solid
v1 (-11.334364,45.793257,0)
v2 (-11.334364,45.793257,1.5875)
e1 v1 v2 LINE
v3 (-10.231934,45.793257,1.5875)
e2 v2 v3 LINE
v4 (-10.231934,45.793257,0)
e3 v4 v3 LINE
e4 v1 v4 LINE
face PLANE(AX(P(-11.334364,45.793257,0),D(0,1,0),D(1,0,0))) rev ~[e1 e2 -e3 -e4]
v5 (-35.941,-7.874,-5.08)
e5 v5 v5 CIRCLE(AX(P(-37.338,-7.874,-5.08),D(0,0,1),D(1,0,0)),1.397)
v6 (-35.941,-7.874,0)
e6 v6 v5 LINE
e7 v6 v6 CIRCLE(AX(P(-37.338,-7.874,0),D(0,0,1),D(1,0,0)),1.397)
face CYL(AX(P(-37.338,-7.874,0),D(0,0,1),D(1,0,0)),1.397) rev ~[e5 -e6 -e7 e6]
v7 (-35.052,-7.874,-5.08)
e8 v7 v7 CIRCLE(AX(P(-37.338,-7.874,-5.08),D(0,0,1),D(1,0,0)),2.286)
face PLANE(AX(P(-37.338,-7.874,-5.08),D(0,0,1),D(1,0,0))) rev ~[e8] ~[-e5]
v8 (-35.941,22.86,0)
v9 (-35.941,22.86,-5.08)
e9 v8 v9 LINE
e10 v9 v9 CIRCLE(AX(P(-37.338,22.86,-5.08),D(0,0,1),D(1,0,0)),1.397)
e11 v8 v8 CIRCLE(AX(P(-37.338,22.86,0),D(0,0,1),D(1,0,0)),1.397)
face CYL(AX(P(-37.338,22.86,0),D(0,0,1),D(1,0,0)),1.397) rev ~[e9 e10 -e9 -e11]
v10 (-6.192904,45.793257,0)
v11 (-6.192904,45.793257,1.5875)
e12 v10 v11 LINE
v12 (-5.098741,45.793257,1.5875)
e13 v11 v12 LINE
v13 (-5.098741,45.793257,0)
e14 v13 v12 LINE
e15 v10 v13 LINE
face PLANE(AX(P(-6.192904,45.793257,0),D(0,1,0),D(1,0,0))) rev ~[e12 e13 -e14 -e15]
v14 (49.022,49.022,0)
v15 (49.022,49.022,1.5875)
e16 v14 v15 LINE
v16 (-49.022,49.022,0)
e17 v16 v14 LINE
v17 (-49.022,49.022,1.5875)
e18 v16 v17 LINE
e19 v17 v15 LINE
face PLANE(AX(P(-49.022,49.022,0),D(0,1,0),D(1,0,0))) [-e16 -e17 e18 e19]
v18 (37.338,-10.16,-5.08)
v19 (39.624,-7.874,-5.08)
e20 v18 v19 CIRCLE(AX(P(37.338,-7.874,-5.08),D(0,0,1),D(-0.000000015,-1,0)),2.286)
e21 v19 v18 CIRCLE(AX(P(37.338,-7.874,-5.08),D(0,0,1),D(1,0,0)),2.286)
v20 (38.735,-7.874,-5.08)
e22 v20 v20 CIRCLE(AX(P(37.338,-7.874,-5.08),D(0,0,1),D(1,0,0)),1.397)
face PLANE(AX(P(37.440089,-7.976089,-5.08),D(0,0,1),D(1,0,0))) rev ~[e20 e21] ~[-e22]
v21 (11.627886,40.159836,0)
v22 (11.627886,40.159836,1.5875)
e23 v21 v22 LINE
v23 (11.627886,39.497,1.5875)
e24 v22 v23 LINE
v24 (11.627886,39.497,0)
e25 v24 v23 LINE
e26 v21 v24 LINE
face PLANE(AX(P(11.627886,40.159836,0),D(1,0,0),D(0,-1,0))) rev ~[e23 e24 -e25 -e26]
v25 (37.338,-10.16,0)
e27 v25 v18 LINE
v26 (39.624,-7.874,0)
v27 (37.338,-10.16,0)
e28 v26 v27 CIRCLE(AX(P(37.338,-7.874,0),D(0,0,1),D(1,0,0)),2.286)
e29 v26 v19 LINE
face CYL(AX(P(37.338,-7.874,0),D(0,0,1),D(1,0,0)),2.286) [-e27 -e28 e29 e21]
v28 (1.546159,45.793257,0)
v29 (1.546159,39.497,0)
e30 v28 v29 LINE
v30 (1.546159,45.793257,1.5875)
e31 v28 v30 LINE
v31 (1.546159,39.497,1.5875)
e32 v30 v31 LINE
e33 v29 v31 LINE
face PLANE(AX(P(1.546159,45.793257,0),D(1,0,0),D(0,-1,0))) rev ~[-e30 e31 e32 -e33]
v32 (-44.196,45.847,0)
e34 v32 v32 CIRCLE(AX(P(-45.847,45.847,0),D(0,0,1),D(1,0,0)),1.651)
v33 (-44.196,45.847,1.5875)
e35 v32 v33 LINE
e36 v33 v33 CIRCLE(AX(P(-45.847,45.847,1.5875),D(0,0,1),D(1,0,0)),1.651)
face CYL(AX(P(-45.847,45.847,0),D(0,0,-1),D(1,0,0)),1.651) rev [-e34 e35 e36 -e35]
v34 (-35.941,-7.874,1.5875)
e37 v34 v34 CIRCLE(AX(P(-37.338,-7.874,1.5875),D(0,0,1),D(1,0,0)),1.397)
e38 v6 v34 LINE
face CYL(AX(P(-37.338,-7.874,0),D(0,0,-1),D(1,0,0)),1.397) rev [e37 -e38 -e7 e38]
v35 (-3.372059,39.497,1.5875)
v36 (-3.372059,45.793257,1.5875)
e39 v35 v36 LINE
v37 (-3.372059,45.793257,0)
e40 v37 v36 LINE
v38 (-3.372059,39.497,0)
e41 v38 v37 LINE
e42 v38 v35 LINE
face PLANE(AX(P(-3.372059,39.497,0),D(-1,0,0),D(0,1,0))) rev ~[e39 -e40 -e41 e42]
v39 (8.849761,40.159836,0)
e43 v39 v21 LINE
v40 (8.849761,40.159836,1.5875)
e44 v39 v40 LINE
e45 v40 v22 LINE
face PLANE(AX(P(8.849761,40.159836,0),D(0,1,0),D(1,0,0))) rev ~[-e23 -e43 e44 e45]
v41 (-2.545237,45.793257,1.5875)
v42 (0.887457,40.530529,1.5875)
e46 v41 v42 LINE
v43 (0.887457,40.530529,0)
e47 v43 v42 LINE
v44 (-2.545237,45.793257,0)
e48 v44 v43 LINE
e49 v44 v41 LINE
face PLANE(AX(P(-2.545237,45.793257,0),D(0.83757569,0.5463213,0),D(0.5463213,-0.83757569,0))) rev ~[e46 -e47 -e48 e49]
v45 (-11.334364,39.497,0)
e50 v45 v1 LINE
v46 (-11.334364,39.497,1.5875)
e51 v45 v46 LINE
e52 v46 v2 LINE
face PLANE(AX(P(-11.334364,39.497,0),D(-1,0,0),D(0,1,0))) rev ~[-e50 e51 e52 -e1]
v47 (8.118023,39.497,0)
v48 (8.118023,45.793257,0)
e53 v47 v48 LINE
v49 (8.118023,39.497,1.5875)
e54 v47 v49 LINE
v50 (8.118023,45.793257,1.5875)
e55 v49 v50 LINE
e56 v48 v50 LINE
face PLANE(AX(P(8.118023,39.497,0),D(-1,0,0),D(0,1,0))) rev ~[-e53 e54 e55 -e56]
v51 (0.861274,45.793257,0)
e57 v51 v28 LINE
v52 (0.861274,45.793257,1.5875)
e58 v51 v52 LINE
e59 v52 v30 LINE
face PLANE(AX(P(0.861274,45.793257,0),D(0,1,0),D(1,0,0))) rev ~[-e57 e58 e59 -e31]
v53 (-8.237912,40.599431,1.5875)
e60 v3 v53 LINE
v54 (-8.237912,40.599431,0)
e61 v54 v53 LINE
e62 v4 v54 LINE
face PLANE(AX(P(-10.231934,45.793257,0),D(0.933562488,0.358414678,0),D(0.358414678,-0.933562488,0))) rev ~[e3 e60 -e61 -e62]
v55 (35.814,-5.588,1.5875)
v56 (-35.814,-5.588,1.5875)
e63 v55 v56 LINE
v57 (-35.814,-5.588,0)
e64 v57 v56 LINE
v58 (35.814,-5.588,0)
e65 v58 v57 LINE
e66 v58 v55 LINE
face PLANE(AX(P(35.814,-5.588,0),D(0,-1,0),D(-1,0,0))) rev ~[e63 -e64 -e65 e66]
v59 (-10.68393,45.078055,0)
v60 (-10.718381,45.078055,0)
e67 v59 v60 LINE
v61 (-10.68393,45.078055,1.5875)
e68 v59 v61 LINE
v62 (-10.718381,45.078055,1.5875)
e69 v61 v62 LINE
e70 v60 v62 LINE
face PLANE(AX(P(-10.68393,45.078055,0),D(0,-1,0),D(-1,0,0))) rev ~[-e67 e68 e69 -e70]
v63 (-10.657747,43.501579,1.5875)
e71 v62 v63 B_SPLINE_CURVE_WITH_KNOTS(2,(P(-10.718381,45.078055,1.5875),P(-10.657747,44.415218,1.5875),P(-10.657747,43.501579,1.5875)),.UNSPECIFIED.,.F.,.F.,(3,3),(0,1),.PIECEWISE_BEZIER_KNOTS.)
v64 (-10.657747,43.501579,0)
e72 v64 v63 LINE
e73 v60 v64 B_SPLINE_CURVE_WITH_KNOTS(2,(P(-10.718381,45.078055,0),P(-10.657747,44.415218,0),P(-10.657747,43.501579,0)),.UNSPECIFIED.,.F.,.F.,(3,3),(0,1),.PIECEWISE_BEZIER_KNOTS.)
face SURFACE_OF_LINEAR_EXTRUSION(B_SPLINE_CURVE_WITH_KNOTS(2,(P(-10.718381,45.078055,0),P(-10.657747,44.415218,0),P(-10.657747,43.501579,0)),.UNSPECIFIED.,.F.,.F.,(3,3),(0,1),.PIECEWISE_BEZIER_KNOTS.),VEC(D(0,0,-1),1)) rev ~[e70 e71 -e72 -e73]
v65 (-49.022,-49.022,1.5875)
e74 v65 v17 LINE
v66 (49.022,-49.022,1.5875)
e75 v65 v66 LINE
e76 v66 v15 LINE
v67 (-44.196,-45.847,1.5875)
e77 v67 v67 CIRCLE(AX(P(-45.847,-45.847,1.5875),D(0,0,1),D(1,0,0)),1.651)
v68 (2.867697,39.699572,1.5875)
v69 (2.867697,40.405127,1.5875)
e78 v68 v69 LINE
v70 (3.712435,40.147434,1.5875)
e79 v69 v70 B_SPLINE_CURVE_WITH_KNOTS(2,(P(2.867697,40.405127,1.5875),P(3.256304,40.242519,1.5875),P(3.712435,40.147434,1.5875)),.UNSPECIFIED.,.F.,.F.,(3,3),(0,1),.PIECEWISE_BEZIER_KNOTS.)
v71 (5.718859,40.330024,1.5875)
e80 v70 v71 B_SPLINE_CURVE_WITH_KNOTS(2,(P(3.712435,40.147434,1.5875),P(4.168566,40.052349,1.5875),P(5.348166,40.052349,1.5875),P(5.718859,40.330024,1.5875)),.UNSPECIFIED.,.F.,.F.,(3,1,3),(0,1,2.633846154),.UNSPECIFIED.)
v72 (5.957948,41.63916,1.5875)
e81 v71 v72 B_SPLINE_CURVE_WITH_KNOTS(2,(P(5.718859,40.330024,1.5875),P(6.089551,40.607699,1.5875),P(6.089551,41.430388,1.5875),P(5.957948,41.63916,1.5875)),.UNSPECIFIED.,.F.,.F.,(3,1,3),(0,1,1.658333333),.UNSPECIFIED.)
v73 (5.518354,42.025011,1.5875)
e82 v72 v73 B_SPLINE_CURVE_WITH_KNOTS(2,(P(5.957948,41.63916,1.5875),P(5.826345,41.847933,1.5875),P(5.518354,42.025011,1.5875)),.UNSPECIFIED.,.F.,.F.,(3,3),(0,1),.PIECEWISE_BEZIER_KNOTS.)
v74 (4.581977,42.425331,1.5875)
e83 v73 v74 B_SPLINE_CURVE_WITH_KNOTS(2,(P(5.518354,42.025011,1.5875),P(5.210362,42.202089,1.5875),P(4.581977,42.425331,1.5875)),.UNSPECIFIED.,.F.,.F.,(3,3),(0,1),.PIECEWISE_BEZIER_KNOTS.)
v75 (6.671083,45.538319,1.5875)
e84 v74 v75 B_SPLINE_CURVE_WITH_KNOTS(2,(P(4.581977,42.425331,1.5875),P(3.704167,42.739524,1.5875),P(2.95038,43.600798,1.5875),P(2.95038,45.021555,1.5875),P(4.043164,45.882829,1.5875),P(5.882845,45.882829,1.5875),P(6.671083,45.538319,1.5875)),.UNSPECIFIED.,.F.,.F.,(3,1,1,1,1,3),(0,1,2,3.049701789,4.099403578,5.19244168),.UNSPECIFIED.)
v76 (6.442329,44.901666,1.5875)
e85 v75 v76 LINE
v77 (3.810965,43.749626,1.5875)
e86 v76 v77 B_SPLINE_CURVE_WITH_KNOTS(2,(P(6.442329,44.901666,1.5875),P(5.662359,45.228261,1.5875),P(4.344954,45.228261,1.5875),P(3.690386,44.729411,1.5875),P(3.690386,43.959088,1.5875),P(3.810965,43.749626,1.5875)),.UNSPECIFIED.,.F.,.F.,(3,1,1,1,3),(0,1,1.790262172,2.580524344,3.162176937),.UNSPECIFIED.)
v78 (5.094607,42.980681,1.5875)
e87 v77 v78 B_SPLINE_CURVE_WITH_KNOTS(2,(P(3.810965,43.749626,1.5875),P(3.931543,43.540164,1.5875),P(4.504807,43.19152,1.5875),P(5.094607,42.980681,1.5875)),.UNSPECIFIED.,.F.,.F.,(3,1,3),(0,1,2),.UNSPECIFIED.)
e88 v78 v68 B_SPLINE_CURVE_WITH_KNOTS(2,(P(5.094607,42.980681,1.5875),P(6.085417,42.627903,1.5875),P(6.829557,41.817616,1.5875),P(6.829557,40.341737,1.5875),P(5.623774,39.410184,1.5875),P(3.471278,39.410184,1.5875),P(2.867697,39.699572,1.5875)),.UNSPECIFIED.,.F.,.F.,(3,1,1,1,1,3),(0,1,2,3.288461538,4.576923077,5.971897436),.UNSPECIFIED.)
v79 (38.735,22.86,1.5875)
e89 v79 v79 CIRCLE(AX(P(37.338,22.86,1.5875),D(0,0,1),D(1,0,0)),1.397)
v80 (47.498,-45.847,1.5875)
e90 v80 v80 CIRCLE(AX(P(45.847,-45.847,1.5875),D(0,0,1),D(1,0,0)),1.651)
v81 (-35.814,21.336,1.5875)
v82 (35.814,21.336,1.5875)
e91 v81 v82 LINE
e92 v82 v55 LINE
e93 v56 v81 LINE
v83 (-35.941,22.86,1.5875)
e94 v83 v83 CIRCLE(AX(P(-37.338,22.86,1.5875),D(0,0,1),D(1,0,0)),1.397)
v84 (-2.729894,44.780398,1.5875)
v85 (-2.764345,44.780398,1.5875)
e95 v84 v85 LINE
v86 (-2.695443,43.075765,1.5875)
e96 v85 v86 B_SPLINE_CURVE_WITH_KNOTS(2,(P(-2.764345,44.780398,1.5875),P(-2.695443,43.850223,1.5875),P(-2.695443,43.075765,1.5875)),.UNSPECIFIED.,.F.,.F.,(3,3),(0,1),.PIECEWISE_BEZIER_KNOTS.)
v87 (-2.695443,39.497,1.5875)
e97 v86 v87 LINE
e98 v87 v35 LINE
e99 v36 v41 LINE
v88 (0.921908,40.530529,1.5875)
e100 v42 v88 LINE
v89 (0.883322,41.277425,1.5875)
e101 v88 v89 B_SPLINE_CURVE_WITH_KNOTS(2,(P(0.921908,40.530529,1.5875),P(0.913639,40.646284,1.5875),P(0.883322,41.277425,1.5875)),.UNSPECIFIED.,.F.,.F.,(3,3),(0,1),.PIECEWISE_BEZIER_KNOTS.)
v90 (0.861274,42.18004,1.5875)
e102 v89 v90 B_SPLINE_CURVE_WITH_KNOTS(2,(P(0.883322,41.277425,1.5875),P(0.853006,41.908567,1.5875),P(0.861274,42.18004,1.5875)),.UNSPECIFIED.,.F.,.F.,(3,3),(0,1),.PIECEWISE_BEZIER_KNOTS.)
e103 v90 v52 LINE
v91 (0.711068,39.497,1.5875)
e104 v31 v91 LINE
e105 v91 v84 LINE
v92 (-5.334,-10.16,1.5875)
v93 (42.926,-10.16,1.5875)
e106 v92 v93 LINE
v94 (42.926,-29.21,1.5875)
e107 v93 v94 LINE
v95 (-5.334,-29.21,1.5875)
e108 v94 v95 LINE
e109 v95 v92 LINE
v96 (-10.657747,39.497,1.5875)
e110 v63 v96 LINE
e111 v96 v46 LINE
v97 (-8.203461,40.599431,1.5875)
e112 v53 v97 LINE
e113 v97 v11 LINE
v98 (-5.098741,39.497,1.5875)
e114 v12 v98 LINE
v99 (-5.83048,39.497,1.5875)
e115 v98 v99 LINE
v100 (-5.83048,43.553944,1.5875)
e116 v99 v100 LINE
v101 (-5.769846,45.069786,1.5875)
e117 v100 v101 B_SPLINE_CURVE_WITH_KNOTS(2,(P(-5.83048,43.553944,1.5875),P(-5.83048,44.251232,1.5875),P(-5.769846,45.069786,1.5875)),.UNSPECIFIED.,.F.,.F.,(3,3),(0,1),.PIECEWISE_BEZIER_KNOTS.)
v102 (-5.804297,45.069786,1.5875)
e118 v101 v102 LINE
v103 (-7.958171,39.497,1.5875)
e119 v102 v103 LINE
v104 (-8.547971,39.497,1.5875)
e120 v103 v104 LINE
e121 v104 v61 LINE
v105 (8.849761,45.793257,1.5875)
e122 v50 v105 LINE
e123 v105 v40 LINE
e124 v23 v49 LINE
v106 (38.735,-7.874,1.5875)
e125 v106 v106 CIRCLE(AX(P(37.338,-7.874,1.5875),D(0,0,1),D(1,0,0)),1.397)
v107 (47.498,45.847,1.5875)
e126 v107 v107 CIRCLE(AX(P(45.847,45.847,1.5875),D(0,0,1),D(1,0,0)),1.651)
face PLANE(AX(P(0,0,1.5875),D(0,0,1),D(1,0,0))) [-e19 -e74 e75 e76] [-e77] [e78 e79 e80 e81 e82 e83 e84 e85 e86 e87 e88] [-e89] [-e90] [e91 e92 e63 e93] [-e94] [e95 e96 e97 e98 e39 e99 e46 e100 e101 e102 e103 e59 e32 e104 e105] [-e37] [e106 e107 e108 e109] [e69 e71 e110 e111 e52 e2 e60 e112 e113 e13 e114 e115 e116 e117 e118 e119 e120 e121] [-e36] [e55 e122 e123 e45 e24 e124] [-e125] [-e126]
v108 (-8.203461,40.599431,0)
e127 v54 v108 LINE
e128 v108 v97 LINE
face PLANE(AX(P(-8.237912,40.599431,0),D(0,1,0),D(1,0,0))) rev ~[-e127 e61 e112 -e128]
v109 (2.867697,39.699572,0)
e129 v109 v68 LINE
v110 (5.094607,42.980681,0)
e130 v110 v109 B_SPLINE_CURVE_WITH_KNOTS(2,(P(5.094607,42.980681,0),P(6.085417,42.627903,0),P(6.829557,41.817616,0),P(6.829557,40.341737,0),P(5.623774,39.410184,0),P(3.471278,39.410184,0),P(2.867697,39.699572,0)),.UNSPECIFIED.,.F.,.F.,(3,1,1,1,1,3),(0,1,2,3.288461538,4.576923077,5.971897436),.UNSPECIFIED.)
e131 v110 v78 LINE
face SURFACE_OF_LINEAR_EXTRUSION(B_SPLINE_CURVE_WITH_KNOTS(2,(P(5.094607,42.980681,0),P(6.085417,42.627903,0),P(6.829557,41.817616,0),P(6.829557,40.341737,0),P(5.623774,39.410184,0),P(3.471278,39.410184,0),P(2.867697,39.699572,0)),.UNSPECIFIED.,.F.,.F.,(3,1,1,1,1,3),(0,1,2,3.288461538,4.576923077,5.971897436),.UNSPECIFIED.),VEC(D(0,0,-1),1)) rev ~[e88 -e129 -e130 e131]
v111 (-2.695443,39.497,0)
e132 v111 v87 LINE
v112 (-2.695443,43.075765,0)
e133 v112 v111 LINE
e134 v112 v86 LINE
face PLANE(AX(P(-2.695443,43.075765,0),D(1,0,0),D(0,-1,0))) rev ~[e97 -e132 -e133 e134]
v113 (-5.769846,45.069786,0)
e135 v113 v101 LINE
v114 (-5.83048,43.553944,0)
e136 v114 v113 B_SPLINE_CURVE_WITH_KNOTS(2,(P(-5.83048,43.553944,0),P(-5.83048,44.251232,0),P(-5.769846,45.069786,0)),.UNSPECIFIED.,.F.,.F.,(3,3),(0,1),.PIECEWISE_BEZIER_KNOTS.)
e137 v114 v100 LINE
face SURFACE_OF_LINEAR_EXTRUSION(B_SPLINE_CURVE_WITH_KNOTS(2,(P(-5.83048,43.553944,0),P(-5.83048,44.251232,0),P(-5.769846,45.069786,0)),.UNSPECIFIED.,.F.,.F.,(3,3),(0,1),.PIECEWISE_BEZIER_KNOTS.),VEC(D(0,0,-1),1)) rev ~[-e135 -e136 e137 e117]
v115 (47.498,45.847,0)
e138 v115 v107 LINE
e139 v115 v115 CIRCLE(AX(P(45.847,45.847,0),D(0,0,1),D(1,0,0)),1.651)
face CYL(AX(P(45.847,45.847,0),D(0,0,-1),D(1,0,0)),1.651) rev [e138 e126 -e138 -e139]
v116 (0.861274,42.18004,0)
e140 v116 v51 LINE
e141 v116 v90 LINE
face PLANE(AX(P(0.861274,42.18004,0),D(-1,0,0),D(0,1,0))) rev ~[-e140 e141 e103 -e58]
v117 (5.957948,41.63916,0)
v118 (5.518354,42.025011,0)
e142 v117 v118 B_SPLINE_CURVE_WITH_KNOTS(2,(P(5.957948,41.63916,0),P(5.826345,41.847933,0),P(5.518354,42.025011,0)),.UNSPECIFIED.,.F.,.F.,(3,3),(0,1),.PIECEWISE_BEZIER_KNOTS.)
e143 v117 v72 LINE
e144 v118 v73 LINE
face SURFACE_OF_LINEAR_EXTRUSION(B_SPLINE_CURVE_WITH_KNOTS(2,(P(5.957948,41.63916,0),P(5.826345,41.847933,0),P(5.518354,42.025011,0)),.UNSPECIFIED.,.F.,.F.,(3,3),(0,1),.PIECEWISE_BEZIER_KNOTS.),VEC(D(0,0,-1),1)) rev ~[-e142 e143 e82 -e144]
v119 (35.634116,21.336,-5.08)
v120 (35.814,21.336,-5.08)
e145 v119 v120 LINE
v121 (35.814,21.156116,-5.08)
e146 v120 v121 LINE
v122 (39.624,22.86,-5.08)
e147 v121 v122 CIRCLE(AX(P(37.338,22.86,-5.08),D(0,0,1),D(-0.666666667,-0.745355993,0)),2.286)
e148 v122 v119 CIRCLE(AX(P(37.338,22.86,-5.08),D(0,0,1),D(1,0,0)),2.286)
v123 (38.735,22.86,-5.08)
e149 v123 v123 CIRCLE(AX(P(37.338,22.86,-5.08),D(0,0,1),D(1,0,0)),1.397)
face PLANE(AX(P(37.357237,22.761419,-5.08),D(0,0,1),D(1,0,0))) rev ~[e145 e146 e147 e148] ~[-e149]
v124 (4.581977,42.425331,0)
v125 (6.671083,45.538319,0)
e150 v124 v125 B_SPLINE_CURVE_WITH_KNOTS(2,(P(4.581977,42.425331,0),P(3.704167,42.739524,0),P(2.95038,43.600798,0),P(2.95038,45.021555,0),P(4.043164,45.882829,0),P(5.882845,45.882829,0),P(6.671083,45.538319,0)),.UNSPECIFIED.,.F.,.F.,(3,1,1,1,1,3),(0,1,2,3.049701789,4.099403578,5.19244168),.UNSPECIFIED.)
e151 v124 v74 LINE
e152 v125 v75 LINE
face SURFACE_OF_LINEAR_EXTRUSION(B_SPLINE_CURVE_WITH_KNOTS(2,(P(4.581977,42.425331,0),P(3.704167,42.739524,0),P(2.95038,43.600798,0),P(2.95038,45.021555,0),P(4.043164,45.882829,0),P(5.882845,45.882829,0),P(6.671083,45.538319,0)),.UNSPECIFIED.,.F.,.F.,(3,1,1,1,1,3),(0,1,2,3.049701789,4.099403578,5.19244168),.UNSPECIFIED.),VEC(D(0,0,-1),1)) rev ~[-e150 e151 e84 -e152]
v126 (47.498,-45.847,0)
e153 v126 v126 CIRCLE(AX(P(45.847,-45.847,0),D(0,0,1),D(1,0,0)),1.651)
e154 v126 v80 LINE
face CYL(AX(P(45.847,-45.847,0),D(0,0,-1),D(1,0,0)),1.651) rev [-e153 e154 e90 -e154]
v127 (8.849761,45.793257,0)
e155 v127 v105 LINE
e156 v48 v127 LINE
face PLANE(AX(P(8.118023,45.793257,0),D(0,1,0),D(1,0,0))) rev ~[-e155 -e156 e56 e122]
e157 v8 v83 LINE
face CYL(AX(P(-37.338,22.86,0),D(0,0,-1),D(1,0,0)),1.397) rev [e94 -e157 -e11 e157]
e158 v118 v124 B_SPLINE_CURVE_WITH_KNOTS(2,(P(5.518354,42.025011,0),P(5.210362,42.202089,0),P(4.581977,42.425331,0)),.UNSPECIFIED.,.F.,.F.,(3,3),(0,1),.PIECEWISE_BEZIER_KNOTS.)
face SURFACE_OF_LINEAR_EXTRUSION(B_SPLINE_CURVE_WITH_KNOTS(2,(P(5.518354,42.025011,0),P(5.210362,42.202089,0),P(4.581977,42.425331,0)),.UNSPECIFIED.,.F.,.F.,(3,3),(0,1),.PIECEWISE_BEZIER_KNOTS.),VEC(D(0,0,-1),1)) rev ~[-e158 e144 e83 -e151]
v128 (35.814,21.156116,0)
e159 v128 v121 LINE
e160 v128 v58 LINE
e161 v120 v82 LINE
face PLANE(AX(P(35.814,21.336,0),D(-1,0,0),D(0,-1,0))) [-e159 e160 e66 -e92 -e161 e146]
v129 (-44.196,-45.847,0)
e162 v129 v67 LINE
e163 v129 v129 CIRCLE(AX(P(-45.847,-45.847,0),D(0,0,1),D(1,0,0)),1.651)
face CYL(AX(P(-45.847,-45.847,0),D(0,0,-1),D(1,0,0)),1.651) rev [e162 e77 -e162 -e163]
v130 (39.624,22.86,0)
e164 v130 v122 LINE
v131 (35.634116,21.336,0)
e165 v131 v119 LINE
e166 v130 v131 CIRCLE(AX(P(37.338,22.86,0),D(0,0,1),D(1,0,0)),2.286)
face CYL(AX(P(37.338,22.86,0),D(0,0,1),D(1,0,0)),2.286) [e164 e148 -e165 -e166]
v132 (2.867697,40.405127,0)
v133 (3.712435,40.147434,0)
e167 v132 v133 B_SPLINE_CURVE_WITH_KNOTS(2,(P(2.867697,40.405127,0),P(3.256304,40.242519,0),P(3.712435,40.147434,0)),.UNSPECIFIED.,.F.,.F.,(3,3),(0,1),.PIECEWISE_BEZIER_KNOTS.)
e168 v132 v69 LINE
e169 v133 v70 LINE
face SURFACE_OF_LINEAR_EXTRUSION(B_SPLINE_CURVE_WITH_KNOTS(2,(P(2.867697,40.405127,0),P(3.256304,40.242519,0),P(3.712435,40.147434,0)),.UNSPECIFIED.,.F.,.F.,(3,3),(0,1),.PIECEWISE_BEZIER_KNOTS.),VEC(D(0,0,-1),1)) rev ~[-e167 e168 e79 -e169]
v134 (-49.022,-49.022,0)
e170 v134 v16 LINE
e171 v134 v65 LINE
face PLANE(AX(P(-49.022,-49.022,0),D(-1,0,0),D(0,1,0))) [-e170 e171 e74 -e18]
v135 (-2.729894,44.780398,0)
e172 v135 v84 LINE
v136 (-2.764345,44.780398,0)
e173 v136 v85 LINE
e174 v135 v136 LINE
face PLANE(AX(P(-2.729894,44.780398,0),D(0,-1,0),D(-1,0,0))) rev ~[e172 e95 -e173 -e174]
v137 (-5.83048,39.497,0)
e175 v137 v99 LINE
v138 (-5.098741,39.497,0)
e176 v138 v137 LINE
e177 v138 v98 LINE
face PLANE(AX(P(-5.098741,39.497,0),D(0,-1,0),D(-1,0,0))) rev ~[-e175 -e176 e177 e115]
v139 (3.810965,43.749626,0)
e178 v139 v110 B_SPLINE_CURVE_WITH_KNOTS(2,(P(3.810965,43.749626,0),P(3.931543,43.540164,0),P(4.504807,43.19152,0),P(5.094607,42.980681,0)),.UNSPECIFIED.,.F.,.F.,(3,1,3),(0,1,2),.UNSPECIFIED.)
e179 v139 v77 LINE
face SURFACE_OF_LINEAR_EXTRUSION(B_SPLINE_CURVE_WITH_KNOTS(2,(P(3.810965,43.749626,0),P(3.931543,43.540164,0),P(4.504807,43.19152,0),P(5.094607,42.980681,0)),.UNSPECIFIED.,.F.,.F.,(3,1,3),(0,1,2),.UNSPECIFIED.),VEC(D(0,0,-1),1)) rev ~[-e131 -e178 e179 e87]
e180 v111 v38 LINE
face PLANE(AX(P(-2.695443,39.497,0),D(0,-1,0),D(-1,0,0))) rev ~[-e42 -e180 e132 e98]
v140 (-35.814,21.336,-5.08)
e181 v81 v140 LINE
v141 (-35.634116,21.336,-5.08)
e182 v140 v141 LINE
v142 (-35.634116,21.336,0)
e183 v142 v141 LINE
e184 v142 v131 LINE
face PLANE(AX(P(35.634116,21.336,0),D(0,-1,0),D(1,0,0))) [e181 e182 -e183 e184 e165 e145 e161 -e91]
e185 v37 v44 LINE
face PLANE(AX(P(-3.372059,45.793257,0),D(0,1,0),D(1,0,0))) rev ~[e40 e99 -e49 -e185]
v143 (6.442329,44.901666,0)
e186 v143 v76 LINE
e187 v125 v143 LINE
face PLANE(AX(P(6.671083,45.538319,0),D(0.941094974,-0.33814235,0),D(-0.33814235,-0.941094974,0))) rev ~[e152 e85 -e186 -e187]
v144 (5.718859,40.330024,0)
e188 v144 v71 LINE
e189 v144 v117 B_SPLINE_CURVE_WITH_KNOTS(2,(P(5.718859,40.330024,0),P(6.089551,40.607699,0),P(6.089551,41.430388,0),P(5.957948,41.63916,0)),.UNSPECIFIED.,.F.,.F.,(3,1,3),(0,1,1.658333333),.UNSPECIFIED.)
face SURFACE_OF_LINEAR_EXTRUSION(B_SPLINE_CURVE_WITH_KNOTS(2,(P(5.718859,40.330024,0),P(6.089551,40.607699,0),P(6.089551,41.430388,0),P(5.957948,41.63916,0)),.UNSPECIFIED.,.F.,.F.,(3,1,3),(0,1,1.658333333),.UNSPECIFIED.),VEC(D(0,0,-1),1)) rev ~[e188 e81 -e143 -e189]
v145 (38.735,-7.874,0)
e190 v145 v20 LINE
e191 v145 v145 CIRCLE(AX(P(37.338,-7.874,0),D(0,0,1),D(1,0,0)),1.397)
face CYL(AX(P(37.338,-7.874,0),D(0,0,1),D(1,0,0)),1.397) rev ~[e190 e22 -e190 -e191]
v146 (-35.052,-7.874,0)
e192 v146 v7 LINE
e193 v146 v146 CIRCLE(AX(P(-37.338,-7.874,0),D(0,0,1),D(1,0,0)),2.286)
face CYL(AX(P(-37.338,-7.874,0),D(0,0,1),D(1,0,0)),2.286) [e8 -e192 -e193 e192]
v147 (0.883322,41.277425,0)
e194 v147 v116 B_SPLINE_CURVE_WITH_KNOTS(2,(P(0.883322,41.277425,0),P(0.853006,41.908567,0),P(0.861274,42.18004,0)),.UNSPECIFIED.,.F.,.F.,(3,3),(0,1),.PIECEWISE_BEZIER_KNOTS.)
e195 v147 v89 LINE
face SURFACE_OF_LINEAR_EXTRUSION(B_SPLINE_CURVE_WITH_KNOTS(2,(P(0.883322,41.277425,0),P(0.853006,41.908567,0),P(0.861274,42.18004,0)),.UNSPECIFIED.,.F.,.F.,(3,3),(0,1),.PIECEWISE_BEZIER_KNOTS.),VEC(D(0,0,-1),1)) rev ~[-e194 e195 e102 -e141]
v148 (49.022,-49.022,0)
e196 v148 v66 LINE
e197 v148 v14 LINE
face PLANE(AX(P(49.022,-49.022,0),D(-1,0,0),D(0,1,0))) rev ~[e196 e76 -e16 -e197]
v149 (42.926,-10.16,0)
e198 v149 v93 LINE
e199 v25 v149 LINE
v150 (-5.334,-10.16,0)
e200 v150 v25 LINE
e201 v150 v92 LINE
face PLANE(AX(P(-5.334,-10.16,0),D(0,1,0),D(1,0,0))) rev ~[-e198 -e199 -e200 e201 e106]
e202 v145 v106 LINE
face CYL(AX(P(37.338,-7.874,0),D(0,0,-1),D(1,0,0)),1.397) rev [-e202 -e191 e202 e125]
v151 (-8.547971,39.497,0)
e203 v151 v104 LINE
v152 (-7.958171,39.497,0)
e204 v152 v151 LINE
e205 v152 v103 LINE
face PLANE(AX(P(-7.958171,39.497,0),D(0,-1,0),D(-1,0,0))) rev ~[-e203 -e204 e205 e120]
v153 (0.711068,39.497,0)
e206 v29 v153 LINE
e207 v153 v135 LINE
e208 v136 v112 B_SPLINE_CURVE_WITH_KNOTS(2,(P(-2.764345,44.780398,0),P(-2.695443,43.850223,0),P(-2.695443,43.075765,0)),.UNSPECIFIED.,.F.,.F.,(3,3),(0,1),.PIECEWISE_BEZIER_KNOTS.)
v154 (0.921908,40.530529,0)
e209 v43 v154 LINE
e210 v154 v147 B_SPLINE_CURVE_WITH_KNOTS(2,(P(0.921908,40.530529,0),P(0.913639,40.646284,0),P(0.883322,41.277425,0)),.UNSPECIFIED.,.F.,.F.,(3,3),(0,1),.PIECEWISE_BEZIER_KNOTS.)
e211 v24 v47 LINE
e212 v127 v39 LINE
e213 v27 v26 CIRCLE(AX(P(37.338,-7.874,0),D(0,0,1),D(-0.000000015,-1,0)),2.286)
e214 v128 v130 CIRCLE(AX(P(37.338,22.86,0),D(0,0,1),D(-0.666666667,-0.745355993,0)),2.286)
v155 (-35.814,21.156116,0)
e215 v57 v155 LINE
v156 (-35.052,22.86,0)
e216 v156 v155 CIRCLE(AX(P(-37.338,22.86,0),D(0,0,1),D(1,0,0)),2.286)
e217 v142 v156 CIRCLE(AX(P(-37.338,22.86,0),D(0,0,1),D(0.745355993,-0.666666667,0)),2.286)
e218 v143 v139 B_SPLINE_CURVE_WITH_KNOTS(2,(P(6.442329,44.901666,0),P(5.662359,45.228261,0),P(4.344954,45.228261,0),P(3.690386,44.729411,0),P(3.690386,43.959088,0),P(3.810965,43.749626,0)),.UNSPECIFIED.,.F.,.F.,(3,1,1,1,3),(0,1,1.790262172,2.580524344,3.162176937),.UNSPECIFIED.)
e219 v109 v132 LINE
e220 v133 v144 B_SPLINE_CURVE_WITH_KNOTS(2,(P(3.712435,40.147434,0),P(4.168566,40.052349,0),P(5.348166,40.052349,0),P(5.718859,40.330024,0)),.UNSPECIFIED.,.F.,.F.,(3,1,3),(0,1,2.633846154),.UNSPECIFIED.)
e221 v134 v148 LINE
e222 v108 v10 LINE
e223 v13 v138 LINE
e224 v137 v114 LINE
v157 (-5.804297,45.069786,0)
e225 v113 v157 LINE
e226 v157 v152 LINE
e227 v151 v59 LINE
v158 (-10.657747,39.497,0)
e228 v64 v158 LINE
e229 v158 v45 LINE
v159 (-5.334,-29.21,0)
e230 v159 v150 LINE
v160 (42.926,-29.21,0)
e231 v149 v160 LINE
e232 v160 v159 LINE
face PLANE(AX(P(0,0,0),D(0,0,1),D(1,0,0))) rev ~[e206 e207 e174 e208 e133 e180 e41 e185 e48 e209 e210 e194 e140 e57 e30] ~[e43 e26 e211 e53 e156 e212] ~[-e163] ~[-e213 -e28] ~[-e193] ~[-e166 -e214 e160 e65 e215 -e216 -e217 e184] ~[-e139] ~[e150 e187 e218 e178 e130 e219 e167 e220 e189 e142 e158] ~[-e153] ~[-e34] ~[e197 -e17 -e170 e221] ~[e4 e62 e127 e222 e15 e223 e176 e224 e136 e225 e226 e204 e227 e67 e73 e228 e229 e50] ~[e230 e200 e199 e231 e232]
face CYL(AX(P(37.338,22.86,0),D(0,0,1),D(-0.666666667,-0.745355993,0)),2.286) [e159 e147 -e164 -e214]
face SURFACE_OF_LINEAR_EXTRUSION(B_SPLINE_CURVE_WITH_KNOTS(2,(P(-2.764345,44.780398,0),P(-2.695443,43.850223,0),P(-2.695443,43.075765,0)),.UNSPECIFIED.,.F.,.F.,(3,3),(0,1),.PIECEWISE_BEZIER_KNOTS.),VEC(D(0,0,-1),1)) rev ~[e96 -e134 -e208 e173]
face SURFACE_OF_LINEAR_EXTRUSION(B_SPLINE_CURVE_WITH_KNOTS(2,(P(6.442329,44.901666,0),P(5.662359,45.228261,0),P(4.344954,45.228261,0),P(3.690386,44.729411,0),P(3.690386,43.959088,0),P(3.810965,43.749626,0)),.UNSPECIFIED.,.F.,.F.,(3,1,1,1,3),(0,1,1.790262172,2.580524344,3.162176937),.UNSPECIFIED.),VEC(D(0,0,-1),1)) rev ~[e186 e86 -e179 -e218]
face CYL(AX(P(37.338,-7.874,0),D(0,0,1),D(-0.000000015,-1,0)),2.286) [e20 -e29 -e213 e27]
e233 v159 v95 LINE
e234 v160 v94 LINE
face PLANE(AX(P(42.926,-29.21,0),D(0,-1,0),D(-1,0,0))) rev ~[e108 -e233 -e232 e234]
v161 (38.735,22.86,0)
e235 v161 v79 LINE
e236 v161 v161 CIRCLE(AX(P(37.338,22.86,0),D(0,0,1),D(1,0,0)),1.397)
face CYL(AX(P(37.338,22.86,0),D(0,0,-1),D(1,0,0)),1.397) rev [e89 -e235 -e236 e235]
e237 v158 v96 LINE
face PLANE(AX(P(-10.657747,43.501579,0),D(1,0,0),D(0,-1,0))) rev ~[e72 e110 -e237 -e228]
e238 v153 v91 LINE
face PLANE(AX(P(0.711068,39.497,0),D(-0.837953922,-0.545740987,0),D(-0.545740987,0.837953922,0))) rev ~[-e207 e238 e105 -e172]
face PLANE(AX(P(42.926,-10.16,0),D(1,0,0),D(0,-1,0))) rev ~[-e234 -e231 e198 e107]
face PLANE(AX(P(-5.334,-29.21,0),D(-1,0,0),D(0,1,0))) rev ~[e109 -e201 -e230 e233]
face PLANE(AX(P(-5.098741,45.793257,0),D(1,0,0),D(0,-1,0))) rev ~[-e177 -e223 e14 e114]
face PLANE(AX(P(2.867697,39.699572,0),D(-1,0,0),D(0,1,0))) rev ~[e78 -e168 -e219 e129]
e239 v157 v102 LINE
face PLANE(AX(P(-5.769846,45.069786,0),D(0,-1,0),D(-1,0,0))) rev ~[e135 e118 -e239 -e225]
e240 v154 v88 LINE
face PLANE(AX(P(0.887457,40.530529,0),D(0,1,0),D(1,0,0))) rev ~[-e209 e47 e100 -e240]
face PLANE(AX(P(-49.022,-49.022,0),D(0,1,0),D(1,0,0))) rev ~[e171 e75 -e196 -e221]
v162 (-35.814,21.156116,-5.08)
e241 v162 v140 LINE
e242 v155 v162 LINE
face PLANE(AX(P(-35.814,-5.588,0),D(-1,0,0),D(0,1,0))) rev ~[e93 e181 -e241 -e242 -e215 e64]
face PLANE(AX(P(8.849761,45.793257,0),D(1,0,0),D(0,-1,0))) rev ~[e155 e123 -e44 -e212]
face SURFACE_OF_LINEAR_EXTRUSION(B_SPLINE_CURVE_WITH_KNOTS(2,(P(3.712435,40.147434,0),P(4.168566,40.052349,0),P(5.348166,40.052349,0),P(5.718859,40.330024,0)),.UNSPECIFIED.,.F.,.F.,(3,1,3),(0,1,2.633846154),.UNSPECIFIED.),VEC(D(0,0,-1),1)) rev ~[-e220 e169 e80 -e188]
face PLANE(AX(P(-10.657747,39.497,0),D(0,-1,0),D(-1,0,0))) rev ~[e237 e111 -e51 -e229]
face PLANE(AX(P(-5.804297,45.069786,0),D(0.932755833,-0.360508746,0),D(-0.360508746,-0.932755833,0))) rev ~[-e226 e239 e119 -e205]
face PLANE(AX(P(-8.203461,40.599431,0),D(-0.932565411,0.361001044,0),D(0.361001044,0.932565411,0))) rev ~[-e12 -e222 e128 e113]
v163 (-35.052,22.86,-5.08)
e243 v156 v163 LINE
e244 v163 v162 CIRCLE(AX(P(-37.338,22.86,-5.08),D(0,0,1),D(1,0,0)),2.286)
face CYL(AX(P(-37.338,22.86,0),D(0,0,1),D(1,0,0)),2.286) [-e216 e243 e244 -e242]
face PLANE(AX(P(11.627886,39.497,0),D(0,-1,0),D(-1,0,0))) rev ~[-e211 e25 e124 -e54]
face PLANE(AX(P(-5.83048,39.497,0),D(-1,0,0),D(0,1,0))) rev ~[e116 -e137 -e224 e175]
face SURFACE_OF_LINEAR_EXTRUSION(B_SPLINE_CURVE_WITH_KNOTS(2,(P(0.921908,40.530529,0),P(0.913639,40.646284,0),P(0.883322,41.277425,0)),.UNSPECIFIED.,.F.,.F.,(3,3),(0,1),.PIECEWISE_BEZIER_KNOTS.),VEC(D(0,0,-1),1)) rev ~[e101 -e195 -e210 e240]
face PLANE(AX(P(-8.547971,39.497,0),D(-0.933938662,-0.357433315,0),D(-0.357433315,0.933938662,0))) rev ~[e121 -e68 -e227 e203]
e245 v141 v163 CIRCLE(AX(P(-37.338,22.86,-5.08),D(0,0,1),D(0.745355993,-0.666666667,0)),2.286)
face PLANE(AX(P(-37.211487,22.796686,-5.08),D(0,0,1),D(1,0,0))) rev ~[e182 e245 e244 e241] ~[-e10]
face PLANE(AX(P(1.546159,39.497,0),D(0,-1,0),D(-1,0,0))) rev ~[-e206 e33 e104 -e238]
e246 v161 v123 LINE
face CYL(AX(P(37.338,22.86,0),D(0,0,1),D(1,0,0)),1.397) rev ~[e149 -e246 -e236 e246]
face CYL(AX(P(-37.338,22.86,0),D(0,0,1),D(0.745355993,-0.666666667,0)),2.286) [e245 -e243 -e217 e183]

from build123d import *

# Parameters (mm, degrees)
F0_W     = 98.044
F0_H     = 98.044
F0_R     = 1.651
F0_R_2   = 2.286
F0_R_3   = 1.397
F1_DEPTH = 1.5875
F2_DEPTH = 5.08


with BuildPart() as f1:
    # F0 (on Top) → F1 (new body)
    with BuildSketch(Plane.XY):
        Rectangle(F0_W, F0_H)
        with Locations((-45.847, -45.847)):
            Circle(F0_R, mode=Mode.SUBTRACT)
        with Locations((-37.338, -7.874)):
            Circle(F0_R_2, mode=Mode.SUBTRACT)
        with Locations((45.847, -45.847)):
            Circle(F0_R, mode=Mode.SUBTRACT)
        Polygon((-5.334, -29.21), (-5.334, -10.16), (37.3379999666, -10.16), (42.926, -10.16), (42.926, -29.21), align=None, mode=Mode.SUBTRACT)
        with BuildLine():
            ThreePointArc((39.624, -7.874), (38.95444609, -9.4904461136), (37.3379999666, -10.16))
            ThreePointArc((37.3379999666, -10.16), (35.72155391, -6.2575538864), (39.624, -7.874))
        make_face(mode=Mode.SUBTRACT)
        with Locations((-45.847, 45.847)):
            Circle(F0_R, mode=Mode.SUBTRACT)
        with BuildLine():
            Line((-7.9581705729, 39.497), (-8.5479709201, 39.497))
            Line((-8.5479709201, 39.497), (-10.6839301215, 45.0780546875))
            Line((-10.6839301215, 45.0780546875), (-10.7183810764, 45.0780546875))
            add(Edge.make_bspline(
                [(-10.7183810764, 45.0780546875), (-10.6577473958, 44.415218316), (-10.6577473958, 43.5015789931)],
                knots=[0, 0, 0, 1, 1, 1], degree=2))
            Line((-10.6577473958, 43.5015789931), (-10.6577473958, 39.497))
            Line((-10.6577473958, 39.497), (-11.3343641493, 39.497))
            Line((-11.3343641493, 39.497), (-11.3343641493, 45.7932565104))
            Line((-11.3343641493, 45.7932565104), (-10.2319335938, 45.7932565104))
            Line((-10.2319335938, 45.7932565104), (-8.2379123264, 40.5994305556))
            Line((-8.2379123264, 40.5994305556), (-8.2034613715, 40.5994305556))
            Line((-8.2034613715, 40.5994305556), (-6.1929036458, 45.7932565104))
            Line((-6.1929036458, 45.7932565104), (-5.0987413194, 45.7932565104))
            Line((-5.0987413194, 45.7932565104), (-5.0987413194, 39.497))
            Line((-5.0987413194, 39.497), (-5.8304796007, 39.497))
            Line((-5.8304796007, 39.497), (-5.8304796007, 43.5539444444))
            add(Edge.make_bspline(
                [(-5.8304796007, 43.5539444444), (-5.8304796007, 44.2512317708), (-5.7698459201, 45.0697864583)],
                knots=[0, 0, 0, 1, 1, 1], degree=2))
            Line((-5.7698459201, 45.0697864583), (-5.804296875, 45.0697864583))
            Line((-5.804296875, 45.0697864583), (-7.9581705729, 39.497))
        make_face(mode=Mode.SUBTRACT)
        with BuildLine():
            Line((1.5461588542, 45.7932565104), (1.5461588542, 39.497))
            Line((1.5461588542, 39.497), (0.7110677083, 39.497))
            Line((0.7110677083, 39.497), (-2.7298936632, 44.7803984375))
            Line((-2.7298936632, 44.7803984375), (-2.7643446181, 44.7803984375))
            add(Edge.make_bspline(
                [(-2.7643446181, 44.7803984375), (-2.6954427083, 43.8502226563), (-2.6954427083, 43.075765191)],
                knots=[0, 0, 0, 1, 1, 1], degree=2))
            Line((-2.6954427083, 43.075765191), (-2.6954427083, 39.497))
            Line((-2.6954427083, 39.497), (-3.3720594618, 39.497))
            Line((-3.3720594618, 39.497), (-3.3720594618, 45.7932565104))
            Line((-3.3720594618, 45.7932565104), (-2.5452365451, 45.7932565104))
            Line((-2.5452365451, 45.7932565104), (0.8874565972, 40.5305286458))
            Line((0.8874565972, 40.5305286458), (0.9219075521, 40.5305286458))
            add(Edge.make_bspline(
                [(0.9219075521, 40.5305286458), (0.9136393229, 40.6462838542), (0.8833224826, 41.2774253472)],
                knots=[0, 0, 0, 1, 1, 1], degree=2))
            add(Edge.make_bspline(
                [(0.8833224826, 41.2774253472), (0.8530056424, 41.9085668403), (0.8612738715, 42.1800403646)],
                knots=[0, 0, 0, 1, 1, 1], degree=2))
            Line((0.8612738715, 42.1800403646), (0.8612738715, 45.7932565104))
            Line((0.8612738715, 45.7932565104), (1.5461588542, 45.7932565104))
        make_face(mode=Mode.SUBTRACT)
        with BuildLine():
            ThreePointArc((-35.814, 21.1561162011), (-39.4248229441, 23.793255592), (-35.052, 22.86))
            ThreePointArc((-35.052, 22.86), (-35.2024819874, 22.0443047028), (-35.6341162011, 21.336))
            Line((-35.6341162011, 21.336), (35.6341162011, 21.336))
            ThreePointArc((35.6341162011, 21.336), (36.5223047028, 24.9955180126), (39.624, 22.86))
            ThreePointArc((39.624, 22.86), (38.271255592, 20.7731770559), (35.814, 21.1561162011))
            Line((35.814, 21.1561162011), (35.814, -5.588))
            Line((35.814, -5.588), (-35.814, -5.588))
            Line((-35.814, -5.588), (-35.814, 21.1561162011))
        make_face(mode=Mode.SUBTRACT)
        with BuildLine():
            add(Edge.make_bspline(
                [(6.4574869792, 42.2227595486), (6.8295572917, 41.8176163194), (6.8295572917, 41.1726944444)],
                knots=[0, 0, 0, 1, 1, 1], degree=2))
            add(Edge.make_bspline(
                [(6.8295572917, 41.1726944444), (6.8295572917, 40.3417374132), (6.2266655816, 39.8759605035)],
                knots=[0, 0, 0, 1, 1, 1], degree=2))
            add(Edge.make_bspline(
                [(6.2266655816, 39.8759605035), (5.6237738715, 39.4101835938), (4.5902452257, 39.4101835938)],
                knots=[0, 0, 0, 1, 1, 1], degree=2))
            add(Edge.make_bspline(
                [(4.5902452257, 39.4101835938), (3.4712782118, 39.4101835938), (2.8676974826, 39.6995716146)],
                knots=[0, 0, 0, 1, 1, 1], degree=2))
            Line((2.8676974826, 39.6995716146), (2.8676974826, 40.4051271701))
            add(Edge.make_bspline(
                [(2.8676974826, 40.4051271701), (3.2563042535, 40.2425186632), (3.7124348958, 40.1474340278)],
                knots=[0, 0, 0, 1, 1, 1], degree=2))
            add(Edge.make_bspline(
                [(3.7124348958, 40.1474340278), (4.1685655382, 40.0523493924), (4.6164279514, 40.0523493924)],
                knots=[0, 0, 0, 1, 1, 1], degree=2))
            add(Edge.make_bspline(
                [(4.6164279514, 40.0523493924), (5.3481662326, 40.0523493924), (5.7188585069, 40.3300240885)],
                knots=[0, 0, 0, 1, 1, 1], degree=2))
            add(Edge.make_bspline(
                [(5.7188585069, 40.3300240885), (6.0895507813, 40.6076987847), (6.0895507813, 41.1037925347)],
                knots=[0, 0, 0, 1, 1, 1], degree=2))
            add(Edge.make_bspline(
                [(6.0895507813, 41.1037925347), (6.0895507813, 41.4303875868), (5.9579481337, 41.6391603733)],
                knots=[0, 0, 0, 1, 1, 1], degree=2))
            add(Edge.make_bspline(
                [(5.9579481337, 41.6391603733), (5.8263454861, 41.8479331597), (5.5183539497, 42.0250110677)],
                knots=[0, 0, 0, 1, 1, 1], degree=2))
            add(Edge.make_bspline(
                [(5.5183539497, 42.0250110677), (5.2103624132, 42.2020889757), (4.5819769965, 42.4253311632)],
                knots=[0, 0, 0, 1, 1, 1], degree=2))
            add(Edge.make_bspline(
                [(4.5819769965, 42.4253311632), (3.7041666667, 42.7395238715), (3.3272732205, 43.1701608073)],
                knots=[0, 0, 0, 1, 1, 1], degree=2))
            add(Edge.make_bspline(
                [(3.3272732205, 43.1701608073), (2.9503797743, 43.6007977431), (2.9503797743, 44.2939509549)],
                knots=[0, 0, 0, 1, 1, 1], degree=2))
            add(Edge.make_bspline(
                [(2.9503797743, 44.2939509549), (2.9503797743, 45.0215551215), (3.4967719184, 45.4521920573)],
                knots=[0, 0, 0, 1, 1, 1], degree=2))
            add(Edge.make_bspline(
                [(3.4967719184, 45.4521920573), (4.0431640625, 45.8828289931), (4.9444010417, 45.8828289931)],
                knots=[0, 0, 0, 1, 1, 1], degree=2))
            add(Edge.make_bspline(
                [(4.9444010417, 45.8828289931), (5.8828450521, 45.8828289931), (6.6710828993, 45.5383194444)],
                knots=[0, 0, 0, 1, 1, 1], degree=2))
            Line((6.6710828993, 45.5383194444), (6.442328559, 44.9016657986))
            add(Edge.make_bspline(
                [(6.442328559, 44.9016657986), (5.662358941, 45.2282608507), (4.9264865451, 45.2282608507)],
                knots=[0, 0, 0, 1, 1, 1], degree=2))
            add(Edge.make_bspline(
                [(4.9264865451, 45.2282608507), (4.3449544271, 45.2282608507), (4.0176703559, 44.9788359375)],
                knots=[0, 0, 0, 1, 1, 1], degree=2))
            add(Edge.make_bspline(
                [(4.0176703559, 44.9788359375), (3.6903862847, 44.7294110243), (3.6903862847, 44.2856827257)],
                knots=[0, 0, 0, 1, 1, 1], degree=2))
            add(Edge.make_bspline(
                [(3.6903862847, 44.2856827257), (3.6903862847, 43.9590876736), (3.8109646267, 43.7496258681)],
                knots=[0, 0, 0, 1, 1, 1], degree=2))
            add(Edge.make_bspline(
                [(3.8109646267, 43.7496258681), (3.9315429688, 43.5401640625), (4.2181749132, 43.3658422309)],
                knots=[0, 0, 0, 1, 1, 1], degree=2))
            add(Edge.make_bspline(
                [(4.2181749132, 43.3658422309), (4.5048068576, 43.1915203993), (5.0946072049, 42.9806805556)],
                knots=[0, 0, 0, 1, 1, 1], degree=2))
            add(Edge.make_bspline(
                [(5.0946072049, 42.9806805556), (6.0854166667, 42.6279027778), (6.4574869792, 42.2227595486)],
                knots=[0, 0, 0, 1, 1, 1], degree=2))
        make_face(mode=Mode.SUBTRACT)
        Polygon((11.6278862847, 39.497), (8.1180230035, 39.497), (8.1180230035, 45.7932565104), (8.8497612847, 45.7932565104), (8.8497612847, 40.1598363715), (11.6278862847, 40.1598363715), align=None, mode=Mode.SUBTRACT)
        with Locations((45.847, 45.847)):
            Circle(F0_R, mode=Mode.SUBTRACT)
        with Locations((-37.338, -7.874)):
            Circle(F0_R_2)
        with Locations((-37.338, -7.874)):
            Circle(F0_R_3, mode=Mode.SUBTRACT)
        with BuildLine():
            ThreePointArc((39.624, -7.874), (35.72155391, -6.2575538864), (37.3379999666, -10.16))
            ThreePointArc((37.3379999666, -10.16), (38.95444609, -9.4904461136), (39.624, -7.874))
        make_face()
        with Locations((37.338, -7.874)):
            Circle(F0_R_3, mode=Mode.SUBTRACT)
        with BuildLine():
            ThreePointArc((39.624, 22.86), (36.5223047028, 24.9955180126), (35.6341162011, 21.336))
            Line((35.6341162011, 21.336), (35.814, 21.336))
            Line((35.814, 21.336), (35.814, 21.1561162011))
            ThreePointArc((35.814, 21.1561162011), (38.271255592, 20.7731770559), (39.624, 22.86))
        make_face()
        with Locations((37.338, 22.86)):
            Circle(F0_R_3, mode=Mode.SUBTRACT)
        with BuildLine():
            ThreePointArc((-35.6341162011, 21.336), (-35.2024819874, 22.0443047028), (-35.052, 22.86))
            ThreePointArc((-35.052, 22.86), (-39.4248229441, 23.793255592), (-35.814, 21.1561162011))
            Line((-35.814, 21.1561162011), (-35.814, 21.336))
            Line((-35.814, 21.336), (-35.6341162011, 21.336))
        make_face()
        with Locations((-37.338, 22.86)):
            Circle(F0_R_3, mode=Mode.SUBTRACT)
    extrude(amount=F1_DEPTH)

    # F0 (on Top) → F2 (join)
    with BuildSketch(Plane.XY):
        with BuildLine():
            ThreePointArc((39.624, 22.86), (36.5223047028, 24.9955180126), (35.6341162011, 21.336))
            Line((35.6341162011, 21.336), (35.814, 21.336))
            Line((35.814, 21.336), (35.814, 21.1561162011))
            ThreePointArc((35.814, 21.1561162011), (38.271255592, 20.7731770559), (39.624, 22.86))
        make_face()
        with Locations((37.338, 22.86)):
            Circle(F0_R_3, mode=Mode.SUBTRACT)
        with Locations((-37.338, -7.874)):
            Circle(F0_R_2)
        with Locations((-37.338, -7.874)):
            Circle(F0_R_3, mode=Mode.SUBTRACT)
        with BuildLine():
            ThreePointArc((-35.6341162011, 21.336), (-35.2024819874, 22.0443047028), (-35.052, 22.86))
            ThreePointArc((-35.052, 22.86), (-39.4248229441, 23.793255592), (-35.814, 21.1561162011))
            Line((-35.814, 21.1561162011), (-35.814, 21.336))
            Line((-35.814, 21.336), (-35.6341162011, 21.336))
        make_face()
        with Locations((-37.338, 22.86)):
            Circle(F0_R_3, mode=Mode.SUBTRACT)
        with BuildLine():
            ThreePointArc((39.624, -7.874), (35.72155391, -6.2575538864), (37.3379999666, -10.16))
            ThreePointArc((37.3379999666, -10.16), (38.95444609, -9.4904461136), (39.624, -7.874))
        make_face()
        with Locations((37.338, -7.874)):
            Circle(F0_R_3, mode=Mode.SUBTRACT)
    extrude(amount=-F2_DEPTH)


solid = f1.part
